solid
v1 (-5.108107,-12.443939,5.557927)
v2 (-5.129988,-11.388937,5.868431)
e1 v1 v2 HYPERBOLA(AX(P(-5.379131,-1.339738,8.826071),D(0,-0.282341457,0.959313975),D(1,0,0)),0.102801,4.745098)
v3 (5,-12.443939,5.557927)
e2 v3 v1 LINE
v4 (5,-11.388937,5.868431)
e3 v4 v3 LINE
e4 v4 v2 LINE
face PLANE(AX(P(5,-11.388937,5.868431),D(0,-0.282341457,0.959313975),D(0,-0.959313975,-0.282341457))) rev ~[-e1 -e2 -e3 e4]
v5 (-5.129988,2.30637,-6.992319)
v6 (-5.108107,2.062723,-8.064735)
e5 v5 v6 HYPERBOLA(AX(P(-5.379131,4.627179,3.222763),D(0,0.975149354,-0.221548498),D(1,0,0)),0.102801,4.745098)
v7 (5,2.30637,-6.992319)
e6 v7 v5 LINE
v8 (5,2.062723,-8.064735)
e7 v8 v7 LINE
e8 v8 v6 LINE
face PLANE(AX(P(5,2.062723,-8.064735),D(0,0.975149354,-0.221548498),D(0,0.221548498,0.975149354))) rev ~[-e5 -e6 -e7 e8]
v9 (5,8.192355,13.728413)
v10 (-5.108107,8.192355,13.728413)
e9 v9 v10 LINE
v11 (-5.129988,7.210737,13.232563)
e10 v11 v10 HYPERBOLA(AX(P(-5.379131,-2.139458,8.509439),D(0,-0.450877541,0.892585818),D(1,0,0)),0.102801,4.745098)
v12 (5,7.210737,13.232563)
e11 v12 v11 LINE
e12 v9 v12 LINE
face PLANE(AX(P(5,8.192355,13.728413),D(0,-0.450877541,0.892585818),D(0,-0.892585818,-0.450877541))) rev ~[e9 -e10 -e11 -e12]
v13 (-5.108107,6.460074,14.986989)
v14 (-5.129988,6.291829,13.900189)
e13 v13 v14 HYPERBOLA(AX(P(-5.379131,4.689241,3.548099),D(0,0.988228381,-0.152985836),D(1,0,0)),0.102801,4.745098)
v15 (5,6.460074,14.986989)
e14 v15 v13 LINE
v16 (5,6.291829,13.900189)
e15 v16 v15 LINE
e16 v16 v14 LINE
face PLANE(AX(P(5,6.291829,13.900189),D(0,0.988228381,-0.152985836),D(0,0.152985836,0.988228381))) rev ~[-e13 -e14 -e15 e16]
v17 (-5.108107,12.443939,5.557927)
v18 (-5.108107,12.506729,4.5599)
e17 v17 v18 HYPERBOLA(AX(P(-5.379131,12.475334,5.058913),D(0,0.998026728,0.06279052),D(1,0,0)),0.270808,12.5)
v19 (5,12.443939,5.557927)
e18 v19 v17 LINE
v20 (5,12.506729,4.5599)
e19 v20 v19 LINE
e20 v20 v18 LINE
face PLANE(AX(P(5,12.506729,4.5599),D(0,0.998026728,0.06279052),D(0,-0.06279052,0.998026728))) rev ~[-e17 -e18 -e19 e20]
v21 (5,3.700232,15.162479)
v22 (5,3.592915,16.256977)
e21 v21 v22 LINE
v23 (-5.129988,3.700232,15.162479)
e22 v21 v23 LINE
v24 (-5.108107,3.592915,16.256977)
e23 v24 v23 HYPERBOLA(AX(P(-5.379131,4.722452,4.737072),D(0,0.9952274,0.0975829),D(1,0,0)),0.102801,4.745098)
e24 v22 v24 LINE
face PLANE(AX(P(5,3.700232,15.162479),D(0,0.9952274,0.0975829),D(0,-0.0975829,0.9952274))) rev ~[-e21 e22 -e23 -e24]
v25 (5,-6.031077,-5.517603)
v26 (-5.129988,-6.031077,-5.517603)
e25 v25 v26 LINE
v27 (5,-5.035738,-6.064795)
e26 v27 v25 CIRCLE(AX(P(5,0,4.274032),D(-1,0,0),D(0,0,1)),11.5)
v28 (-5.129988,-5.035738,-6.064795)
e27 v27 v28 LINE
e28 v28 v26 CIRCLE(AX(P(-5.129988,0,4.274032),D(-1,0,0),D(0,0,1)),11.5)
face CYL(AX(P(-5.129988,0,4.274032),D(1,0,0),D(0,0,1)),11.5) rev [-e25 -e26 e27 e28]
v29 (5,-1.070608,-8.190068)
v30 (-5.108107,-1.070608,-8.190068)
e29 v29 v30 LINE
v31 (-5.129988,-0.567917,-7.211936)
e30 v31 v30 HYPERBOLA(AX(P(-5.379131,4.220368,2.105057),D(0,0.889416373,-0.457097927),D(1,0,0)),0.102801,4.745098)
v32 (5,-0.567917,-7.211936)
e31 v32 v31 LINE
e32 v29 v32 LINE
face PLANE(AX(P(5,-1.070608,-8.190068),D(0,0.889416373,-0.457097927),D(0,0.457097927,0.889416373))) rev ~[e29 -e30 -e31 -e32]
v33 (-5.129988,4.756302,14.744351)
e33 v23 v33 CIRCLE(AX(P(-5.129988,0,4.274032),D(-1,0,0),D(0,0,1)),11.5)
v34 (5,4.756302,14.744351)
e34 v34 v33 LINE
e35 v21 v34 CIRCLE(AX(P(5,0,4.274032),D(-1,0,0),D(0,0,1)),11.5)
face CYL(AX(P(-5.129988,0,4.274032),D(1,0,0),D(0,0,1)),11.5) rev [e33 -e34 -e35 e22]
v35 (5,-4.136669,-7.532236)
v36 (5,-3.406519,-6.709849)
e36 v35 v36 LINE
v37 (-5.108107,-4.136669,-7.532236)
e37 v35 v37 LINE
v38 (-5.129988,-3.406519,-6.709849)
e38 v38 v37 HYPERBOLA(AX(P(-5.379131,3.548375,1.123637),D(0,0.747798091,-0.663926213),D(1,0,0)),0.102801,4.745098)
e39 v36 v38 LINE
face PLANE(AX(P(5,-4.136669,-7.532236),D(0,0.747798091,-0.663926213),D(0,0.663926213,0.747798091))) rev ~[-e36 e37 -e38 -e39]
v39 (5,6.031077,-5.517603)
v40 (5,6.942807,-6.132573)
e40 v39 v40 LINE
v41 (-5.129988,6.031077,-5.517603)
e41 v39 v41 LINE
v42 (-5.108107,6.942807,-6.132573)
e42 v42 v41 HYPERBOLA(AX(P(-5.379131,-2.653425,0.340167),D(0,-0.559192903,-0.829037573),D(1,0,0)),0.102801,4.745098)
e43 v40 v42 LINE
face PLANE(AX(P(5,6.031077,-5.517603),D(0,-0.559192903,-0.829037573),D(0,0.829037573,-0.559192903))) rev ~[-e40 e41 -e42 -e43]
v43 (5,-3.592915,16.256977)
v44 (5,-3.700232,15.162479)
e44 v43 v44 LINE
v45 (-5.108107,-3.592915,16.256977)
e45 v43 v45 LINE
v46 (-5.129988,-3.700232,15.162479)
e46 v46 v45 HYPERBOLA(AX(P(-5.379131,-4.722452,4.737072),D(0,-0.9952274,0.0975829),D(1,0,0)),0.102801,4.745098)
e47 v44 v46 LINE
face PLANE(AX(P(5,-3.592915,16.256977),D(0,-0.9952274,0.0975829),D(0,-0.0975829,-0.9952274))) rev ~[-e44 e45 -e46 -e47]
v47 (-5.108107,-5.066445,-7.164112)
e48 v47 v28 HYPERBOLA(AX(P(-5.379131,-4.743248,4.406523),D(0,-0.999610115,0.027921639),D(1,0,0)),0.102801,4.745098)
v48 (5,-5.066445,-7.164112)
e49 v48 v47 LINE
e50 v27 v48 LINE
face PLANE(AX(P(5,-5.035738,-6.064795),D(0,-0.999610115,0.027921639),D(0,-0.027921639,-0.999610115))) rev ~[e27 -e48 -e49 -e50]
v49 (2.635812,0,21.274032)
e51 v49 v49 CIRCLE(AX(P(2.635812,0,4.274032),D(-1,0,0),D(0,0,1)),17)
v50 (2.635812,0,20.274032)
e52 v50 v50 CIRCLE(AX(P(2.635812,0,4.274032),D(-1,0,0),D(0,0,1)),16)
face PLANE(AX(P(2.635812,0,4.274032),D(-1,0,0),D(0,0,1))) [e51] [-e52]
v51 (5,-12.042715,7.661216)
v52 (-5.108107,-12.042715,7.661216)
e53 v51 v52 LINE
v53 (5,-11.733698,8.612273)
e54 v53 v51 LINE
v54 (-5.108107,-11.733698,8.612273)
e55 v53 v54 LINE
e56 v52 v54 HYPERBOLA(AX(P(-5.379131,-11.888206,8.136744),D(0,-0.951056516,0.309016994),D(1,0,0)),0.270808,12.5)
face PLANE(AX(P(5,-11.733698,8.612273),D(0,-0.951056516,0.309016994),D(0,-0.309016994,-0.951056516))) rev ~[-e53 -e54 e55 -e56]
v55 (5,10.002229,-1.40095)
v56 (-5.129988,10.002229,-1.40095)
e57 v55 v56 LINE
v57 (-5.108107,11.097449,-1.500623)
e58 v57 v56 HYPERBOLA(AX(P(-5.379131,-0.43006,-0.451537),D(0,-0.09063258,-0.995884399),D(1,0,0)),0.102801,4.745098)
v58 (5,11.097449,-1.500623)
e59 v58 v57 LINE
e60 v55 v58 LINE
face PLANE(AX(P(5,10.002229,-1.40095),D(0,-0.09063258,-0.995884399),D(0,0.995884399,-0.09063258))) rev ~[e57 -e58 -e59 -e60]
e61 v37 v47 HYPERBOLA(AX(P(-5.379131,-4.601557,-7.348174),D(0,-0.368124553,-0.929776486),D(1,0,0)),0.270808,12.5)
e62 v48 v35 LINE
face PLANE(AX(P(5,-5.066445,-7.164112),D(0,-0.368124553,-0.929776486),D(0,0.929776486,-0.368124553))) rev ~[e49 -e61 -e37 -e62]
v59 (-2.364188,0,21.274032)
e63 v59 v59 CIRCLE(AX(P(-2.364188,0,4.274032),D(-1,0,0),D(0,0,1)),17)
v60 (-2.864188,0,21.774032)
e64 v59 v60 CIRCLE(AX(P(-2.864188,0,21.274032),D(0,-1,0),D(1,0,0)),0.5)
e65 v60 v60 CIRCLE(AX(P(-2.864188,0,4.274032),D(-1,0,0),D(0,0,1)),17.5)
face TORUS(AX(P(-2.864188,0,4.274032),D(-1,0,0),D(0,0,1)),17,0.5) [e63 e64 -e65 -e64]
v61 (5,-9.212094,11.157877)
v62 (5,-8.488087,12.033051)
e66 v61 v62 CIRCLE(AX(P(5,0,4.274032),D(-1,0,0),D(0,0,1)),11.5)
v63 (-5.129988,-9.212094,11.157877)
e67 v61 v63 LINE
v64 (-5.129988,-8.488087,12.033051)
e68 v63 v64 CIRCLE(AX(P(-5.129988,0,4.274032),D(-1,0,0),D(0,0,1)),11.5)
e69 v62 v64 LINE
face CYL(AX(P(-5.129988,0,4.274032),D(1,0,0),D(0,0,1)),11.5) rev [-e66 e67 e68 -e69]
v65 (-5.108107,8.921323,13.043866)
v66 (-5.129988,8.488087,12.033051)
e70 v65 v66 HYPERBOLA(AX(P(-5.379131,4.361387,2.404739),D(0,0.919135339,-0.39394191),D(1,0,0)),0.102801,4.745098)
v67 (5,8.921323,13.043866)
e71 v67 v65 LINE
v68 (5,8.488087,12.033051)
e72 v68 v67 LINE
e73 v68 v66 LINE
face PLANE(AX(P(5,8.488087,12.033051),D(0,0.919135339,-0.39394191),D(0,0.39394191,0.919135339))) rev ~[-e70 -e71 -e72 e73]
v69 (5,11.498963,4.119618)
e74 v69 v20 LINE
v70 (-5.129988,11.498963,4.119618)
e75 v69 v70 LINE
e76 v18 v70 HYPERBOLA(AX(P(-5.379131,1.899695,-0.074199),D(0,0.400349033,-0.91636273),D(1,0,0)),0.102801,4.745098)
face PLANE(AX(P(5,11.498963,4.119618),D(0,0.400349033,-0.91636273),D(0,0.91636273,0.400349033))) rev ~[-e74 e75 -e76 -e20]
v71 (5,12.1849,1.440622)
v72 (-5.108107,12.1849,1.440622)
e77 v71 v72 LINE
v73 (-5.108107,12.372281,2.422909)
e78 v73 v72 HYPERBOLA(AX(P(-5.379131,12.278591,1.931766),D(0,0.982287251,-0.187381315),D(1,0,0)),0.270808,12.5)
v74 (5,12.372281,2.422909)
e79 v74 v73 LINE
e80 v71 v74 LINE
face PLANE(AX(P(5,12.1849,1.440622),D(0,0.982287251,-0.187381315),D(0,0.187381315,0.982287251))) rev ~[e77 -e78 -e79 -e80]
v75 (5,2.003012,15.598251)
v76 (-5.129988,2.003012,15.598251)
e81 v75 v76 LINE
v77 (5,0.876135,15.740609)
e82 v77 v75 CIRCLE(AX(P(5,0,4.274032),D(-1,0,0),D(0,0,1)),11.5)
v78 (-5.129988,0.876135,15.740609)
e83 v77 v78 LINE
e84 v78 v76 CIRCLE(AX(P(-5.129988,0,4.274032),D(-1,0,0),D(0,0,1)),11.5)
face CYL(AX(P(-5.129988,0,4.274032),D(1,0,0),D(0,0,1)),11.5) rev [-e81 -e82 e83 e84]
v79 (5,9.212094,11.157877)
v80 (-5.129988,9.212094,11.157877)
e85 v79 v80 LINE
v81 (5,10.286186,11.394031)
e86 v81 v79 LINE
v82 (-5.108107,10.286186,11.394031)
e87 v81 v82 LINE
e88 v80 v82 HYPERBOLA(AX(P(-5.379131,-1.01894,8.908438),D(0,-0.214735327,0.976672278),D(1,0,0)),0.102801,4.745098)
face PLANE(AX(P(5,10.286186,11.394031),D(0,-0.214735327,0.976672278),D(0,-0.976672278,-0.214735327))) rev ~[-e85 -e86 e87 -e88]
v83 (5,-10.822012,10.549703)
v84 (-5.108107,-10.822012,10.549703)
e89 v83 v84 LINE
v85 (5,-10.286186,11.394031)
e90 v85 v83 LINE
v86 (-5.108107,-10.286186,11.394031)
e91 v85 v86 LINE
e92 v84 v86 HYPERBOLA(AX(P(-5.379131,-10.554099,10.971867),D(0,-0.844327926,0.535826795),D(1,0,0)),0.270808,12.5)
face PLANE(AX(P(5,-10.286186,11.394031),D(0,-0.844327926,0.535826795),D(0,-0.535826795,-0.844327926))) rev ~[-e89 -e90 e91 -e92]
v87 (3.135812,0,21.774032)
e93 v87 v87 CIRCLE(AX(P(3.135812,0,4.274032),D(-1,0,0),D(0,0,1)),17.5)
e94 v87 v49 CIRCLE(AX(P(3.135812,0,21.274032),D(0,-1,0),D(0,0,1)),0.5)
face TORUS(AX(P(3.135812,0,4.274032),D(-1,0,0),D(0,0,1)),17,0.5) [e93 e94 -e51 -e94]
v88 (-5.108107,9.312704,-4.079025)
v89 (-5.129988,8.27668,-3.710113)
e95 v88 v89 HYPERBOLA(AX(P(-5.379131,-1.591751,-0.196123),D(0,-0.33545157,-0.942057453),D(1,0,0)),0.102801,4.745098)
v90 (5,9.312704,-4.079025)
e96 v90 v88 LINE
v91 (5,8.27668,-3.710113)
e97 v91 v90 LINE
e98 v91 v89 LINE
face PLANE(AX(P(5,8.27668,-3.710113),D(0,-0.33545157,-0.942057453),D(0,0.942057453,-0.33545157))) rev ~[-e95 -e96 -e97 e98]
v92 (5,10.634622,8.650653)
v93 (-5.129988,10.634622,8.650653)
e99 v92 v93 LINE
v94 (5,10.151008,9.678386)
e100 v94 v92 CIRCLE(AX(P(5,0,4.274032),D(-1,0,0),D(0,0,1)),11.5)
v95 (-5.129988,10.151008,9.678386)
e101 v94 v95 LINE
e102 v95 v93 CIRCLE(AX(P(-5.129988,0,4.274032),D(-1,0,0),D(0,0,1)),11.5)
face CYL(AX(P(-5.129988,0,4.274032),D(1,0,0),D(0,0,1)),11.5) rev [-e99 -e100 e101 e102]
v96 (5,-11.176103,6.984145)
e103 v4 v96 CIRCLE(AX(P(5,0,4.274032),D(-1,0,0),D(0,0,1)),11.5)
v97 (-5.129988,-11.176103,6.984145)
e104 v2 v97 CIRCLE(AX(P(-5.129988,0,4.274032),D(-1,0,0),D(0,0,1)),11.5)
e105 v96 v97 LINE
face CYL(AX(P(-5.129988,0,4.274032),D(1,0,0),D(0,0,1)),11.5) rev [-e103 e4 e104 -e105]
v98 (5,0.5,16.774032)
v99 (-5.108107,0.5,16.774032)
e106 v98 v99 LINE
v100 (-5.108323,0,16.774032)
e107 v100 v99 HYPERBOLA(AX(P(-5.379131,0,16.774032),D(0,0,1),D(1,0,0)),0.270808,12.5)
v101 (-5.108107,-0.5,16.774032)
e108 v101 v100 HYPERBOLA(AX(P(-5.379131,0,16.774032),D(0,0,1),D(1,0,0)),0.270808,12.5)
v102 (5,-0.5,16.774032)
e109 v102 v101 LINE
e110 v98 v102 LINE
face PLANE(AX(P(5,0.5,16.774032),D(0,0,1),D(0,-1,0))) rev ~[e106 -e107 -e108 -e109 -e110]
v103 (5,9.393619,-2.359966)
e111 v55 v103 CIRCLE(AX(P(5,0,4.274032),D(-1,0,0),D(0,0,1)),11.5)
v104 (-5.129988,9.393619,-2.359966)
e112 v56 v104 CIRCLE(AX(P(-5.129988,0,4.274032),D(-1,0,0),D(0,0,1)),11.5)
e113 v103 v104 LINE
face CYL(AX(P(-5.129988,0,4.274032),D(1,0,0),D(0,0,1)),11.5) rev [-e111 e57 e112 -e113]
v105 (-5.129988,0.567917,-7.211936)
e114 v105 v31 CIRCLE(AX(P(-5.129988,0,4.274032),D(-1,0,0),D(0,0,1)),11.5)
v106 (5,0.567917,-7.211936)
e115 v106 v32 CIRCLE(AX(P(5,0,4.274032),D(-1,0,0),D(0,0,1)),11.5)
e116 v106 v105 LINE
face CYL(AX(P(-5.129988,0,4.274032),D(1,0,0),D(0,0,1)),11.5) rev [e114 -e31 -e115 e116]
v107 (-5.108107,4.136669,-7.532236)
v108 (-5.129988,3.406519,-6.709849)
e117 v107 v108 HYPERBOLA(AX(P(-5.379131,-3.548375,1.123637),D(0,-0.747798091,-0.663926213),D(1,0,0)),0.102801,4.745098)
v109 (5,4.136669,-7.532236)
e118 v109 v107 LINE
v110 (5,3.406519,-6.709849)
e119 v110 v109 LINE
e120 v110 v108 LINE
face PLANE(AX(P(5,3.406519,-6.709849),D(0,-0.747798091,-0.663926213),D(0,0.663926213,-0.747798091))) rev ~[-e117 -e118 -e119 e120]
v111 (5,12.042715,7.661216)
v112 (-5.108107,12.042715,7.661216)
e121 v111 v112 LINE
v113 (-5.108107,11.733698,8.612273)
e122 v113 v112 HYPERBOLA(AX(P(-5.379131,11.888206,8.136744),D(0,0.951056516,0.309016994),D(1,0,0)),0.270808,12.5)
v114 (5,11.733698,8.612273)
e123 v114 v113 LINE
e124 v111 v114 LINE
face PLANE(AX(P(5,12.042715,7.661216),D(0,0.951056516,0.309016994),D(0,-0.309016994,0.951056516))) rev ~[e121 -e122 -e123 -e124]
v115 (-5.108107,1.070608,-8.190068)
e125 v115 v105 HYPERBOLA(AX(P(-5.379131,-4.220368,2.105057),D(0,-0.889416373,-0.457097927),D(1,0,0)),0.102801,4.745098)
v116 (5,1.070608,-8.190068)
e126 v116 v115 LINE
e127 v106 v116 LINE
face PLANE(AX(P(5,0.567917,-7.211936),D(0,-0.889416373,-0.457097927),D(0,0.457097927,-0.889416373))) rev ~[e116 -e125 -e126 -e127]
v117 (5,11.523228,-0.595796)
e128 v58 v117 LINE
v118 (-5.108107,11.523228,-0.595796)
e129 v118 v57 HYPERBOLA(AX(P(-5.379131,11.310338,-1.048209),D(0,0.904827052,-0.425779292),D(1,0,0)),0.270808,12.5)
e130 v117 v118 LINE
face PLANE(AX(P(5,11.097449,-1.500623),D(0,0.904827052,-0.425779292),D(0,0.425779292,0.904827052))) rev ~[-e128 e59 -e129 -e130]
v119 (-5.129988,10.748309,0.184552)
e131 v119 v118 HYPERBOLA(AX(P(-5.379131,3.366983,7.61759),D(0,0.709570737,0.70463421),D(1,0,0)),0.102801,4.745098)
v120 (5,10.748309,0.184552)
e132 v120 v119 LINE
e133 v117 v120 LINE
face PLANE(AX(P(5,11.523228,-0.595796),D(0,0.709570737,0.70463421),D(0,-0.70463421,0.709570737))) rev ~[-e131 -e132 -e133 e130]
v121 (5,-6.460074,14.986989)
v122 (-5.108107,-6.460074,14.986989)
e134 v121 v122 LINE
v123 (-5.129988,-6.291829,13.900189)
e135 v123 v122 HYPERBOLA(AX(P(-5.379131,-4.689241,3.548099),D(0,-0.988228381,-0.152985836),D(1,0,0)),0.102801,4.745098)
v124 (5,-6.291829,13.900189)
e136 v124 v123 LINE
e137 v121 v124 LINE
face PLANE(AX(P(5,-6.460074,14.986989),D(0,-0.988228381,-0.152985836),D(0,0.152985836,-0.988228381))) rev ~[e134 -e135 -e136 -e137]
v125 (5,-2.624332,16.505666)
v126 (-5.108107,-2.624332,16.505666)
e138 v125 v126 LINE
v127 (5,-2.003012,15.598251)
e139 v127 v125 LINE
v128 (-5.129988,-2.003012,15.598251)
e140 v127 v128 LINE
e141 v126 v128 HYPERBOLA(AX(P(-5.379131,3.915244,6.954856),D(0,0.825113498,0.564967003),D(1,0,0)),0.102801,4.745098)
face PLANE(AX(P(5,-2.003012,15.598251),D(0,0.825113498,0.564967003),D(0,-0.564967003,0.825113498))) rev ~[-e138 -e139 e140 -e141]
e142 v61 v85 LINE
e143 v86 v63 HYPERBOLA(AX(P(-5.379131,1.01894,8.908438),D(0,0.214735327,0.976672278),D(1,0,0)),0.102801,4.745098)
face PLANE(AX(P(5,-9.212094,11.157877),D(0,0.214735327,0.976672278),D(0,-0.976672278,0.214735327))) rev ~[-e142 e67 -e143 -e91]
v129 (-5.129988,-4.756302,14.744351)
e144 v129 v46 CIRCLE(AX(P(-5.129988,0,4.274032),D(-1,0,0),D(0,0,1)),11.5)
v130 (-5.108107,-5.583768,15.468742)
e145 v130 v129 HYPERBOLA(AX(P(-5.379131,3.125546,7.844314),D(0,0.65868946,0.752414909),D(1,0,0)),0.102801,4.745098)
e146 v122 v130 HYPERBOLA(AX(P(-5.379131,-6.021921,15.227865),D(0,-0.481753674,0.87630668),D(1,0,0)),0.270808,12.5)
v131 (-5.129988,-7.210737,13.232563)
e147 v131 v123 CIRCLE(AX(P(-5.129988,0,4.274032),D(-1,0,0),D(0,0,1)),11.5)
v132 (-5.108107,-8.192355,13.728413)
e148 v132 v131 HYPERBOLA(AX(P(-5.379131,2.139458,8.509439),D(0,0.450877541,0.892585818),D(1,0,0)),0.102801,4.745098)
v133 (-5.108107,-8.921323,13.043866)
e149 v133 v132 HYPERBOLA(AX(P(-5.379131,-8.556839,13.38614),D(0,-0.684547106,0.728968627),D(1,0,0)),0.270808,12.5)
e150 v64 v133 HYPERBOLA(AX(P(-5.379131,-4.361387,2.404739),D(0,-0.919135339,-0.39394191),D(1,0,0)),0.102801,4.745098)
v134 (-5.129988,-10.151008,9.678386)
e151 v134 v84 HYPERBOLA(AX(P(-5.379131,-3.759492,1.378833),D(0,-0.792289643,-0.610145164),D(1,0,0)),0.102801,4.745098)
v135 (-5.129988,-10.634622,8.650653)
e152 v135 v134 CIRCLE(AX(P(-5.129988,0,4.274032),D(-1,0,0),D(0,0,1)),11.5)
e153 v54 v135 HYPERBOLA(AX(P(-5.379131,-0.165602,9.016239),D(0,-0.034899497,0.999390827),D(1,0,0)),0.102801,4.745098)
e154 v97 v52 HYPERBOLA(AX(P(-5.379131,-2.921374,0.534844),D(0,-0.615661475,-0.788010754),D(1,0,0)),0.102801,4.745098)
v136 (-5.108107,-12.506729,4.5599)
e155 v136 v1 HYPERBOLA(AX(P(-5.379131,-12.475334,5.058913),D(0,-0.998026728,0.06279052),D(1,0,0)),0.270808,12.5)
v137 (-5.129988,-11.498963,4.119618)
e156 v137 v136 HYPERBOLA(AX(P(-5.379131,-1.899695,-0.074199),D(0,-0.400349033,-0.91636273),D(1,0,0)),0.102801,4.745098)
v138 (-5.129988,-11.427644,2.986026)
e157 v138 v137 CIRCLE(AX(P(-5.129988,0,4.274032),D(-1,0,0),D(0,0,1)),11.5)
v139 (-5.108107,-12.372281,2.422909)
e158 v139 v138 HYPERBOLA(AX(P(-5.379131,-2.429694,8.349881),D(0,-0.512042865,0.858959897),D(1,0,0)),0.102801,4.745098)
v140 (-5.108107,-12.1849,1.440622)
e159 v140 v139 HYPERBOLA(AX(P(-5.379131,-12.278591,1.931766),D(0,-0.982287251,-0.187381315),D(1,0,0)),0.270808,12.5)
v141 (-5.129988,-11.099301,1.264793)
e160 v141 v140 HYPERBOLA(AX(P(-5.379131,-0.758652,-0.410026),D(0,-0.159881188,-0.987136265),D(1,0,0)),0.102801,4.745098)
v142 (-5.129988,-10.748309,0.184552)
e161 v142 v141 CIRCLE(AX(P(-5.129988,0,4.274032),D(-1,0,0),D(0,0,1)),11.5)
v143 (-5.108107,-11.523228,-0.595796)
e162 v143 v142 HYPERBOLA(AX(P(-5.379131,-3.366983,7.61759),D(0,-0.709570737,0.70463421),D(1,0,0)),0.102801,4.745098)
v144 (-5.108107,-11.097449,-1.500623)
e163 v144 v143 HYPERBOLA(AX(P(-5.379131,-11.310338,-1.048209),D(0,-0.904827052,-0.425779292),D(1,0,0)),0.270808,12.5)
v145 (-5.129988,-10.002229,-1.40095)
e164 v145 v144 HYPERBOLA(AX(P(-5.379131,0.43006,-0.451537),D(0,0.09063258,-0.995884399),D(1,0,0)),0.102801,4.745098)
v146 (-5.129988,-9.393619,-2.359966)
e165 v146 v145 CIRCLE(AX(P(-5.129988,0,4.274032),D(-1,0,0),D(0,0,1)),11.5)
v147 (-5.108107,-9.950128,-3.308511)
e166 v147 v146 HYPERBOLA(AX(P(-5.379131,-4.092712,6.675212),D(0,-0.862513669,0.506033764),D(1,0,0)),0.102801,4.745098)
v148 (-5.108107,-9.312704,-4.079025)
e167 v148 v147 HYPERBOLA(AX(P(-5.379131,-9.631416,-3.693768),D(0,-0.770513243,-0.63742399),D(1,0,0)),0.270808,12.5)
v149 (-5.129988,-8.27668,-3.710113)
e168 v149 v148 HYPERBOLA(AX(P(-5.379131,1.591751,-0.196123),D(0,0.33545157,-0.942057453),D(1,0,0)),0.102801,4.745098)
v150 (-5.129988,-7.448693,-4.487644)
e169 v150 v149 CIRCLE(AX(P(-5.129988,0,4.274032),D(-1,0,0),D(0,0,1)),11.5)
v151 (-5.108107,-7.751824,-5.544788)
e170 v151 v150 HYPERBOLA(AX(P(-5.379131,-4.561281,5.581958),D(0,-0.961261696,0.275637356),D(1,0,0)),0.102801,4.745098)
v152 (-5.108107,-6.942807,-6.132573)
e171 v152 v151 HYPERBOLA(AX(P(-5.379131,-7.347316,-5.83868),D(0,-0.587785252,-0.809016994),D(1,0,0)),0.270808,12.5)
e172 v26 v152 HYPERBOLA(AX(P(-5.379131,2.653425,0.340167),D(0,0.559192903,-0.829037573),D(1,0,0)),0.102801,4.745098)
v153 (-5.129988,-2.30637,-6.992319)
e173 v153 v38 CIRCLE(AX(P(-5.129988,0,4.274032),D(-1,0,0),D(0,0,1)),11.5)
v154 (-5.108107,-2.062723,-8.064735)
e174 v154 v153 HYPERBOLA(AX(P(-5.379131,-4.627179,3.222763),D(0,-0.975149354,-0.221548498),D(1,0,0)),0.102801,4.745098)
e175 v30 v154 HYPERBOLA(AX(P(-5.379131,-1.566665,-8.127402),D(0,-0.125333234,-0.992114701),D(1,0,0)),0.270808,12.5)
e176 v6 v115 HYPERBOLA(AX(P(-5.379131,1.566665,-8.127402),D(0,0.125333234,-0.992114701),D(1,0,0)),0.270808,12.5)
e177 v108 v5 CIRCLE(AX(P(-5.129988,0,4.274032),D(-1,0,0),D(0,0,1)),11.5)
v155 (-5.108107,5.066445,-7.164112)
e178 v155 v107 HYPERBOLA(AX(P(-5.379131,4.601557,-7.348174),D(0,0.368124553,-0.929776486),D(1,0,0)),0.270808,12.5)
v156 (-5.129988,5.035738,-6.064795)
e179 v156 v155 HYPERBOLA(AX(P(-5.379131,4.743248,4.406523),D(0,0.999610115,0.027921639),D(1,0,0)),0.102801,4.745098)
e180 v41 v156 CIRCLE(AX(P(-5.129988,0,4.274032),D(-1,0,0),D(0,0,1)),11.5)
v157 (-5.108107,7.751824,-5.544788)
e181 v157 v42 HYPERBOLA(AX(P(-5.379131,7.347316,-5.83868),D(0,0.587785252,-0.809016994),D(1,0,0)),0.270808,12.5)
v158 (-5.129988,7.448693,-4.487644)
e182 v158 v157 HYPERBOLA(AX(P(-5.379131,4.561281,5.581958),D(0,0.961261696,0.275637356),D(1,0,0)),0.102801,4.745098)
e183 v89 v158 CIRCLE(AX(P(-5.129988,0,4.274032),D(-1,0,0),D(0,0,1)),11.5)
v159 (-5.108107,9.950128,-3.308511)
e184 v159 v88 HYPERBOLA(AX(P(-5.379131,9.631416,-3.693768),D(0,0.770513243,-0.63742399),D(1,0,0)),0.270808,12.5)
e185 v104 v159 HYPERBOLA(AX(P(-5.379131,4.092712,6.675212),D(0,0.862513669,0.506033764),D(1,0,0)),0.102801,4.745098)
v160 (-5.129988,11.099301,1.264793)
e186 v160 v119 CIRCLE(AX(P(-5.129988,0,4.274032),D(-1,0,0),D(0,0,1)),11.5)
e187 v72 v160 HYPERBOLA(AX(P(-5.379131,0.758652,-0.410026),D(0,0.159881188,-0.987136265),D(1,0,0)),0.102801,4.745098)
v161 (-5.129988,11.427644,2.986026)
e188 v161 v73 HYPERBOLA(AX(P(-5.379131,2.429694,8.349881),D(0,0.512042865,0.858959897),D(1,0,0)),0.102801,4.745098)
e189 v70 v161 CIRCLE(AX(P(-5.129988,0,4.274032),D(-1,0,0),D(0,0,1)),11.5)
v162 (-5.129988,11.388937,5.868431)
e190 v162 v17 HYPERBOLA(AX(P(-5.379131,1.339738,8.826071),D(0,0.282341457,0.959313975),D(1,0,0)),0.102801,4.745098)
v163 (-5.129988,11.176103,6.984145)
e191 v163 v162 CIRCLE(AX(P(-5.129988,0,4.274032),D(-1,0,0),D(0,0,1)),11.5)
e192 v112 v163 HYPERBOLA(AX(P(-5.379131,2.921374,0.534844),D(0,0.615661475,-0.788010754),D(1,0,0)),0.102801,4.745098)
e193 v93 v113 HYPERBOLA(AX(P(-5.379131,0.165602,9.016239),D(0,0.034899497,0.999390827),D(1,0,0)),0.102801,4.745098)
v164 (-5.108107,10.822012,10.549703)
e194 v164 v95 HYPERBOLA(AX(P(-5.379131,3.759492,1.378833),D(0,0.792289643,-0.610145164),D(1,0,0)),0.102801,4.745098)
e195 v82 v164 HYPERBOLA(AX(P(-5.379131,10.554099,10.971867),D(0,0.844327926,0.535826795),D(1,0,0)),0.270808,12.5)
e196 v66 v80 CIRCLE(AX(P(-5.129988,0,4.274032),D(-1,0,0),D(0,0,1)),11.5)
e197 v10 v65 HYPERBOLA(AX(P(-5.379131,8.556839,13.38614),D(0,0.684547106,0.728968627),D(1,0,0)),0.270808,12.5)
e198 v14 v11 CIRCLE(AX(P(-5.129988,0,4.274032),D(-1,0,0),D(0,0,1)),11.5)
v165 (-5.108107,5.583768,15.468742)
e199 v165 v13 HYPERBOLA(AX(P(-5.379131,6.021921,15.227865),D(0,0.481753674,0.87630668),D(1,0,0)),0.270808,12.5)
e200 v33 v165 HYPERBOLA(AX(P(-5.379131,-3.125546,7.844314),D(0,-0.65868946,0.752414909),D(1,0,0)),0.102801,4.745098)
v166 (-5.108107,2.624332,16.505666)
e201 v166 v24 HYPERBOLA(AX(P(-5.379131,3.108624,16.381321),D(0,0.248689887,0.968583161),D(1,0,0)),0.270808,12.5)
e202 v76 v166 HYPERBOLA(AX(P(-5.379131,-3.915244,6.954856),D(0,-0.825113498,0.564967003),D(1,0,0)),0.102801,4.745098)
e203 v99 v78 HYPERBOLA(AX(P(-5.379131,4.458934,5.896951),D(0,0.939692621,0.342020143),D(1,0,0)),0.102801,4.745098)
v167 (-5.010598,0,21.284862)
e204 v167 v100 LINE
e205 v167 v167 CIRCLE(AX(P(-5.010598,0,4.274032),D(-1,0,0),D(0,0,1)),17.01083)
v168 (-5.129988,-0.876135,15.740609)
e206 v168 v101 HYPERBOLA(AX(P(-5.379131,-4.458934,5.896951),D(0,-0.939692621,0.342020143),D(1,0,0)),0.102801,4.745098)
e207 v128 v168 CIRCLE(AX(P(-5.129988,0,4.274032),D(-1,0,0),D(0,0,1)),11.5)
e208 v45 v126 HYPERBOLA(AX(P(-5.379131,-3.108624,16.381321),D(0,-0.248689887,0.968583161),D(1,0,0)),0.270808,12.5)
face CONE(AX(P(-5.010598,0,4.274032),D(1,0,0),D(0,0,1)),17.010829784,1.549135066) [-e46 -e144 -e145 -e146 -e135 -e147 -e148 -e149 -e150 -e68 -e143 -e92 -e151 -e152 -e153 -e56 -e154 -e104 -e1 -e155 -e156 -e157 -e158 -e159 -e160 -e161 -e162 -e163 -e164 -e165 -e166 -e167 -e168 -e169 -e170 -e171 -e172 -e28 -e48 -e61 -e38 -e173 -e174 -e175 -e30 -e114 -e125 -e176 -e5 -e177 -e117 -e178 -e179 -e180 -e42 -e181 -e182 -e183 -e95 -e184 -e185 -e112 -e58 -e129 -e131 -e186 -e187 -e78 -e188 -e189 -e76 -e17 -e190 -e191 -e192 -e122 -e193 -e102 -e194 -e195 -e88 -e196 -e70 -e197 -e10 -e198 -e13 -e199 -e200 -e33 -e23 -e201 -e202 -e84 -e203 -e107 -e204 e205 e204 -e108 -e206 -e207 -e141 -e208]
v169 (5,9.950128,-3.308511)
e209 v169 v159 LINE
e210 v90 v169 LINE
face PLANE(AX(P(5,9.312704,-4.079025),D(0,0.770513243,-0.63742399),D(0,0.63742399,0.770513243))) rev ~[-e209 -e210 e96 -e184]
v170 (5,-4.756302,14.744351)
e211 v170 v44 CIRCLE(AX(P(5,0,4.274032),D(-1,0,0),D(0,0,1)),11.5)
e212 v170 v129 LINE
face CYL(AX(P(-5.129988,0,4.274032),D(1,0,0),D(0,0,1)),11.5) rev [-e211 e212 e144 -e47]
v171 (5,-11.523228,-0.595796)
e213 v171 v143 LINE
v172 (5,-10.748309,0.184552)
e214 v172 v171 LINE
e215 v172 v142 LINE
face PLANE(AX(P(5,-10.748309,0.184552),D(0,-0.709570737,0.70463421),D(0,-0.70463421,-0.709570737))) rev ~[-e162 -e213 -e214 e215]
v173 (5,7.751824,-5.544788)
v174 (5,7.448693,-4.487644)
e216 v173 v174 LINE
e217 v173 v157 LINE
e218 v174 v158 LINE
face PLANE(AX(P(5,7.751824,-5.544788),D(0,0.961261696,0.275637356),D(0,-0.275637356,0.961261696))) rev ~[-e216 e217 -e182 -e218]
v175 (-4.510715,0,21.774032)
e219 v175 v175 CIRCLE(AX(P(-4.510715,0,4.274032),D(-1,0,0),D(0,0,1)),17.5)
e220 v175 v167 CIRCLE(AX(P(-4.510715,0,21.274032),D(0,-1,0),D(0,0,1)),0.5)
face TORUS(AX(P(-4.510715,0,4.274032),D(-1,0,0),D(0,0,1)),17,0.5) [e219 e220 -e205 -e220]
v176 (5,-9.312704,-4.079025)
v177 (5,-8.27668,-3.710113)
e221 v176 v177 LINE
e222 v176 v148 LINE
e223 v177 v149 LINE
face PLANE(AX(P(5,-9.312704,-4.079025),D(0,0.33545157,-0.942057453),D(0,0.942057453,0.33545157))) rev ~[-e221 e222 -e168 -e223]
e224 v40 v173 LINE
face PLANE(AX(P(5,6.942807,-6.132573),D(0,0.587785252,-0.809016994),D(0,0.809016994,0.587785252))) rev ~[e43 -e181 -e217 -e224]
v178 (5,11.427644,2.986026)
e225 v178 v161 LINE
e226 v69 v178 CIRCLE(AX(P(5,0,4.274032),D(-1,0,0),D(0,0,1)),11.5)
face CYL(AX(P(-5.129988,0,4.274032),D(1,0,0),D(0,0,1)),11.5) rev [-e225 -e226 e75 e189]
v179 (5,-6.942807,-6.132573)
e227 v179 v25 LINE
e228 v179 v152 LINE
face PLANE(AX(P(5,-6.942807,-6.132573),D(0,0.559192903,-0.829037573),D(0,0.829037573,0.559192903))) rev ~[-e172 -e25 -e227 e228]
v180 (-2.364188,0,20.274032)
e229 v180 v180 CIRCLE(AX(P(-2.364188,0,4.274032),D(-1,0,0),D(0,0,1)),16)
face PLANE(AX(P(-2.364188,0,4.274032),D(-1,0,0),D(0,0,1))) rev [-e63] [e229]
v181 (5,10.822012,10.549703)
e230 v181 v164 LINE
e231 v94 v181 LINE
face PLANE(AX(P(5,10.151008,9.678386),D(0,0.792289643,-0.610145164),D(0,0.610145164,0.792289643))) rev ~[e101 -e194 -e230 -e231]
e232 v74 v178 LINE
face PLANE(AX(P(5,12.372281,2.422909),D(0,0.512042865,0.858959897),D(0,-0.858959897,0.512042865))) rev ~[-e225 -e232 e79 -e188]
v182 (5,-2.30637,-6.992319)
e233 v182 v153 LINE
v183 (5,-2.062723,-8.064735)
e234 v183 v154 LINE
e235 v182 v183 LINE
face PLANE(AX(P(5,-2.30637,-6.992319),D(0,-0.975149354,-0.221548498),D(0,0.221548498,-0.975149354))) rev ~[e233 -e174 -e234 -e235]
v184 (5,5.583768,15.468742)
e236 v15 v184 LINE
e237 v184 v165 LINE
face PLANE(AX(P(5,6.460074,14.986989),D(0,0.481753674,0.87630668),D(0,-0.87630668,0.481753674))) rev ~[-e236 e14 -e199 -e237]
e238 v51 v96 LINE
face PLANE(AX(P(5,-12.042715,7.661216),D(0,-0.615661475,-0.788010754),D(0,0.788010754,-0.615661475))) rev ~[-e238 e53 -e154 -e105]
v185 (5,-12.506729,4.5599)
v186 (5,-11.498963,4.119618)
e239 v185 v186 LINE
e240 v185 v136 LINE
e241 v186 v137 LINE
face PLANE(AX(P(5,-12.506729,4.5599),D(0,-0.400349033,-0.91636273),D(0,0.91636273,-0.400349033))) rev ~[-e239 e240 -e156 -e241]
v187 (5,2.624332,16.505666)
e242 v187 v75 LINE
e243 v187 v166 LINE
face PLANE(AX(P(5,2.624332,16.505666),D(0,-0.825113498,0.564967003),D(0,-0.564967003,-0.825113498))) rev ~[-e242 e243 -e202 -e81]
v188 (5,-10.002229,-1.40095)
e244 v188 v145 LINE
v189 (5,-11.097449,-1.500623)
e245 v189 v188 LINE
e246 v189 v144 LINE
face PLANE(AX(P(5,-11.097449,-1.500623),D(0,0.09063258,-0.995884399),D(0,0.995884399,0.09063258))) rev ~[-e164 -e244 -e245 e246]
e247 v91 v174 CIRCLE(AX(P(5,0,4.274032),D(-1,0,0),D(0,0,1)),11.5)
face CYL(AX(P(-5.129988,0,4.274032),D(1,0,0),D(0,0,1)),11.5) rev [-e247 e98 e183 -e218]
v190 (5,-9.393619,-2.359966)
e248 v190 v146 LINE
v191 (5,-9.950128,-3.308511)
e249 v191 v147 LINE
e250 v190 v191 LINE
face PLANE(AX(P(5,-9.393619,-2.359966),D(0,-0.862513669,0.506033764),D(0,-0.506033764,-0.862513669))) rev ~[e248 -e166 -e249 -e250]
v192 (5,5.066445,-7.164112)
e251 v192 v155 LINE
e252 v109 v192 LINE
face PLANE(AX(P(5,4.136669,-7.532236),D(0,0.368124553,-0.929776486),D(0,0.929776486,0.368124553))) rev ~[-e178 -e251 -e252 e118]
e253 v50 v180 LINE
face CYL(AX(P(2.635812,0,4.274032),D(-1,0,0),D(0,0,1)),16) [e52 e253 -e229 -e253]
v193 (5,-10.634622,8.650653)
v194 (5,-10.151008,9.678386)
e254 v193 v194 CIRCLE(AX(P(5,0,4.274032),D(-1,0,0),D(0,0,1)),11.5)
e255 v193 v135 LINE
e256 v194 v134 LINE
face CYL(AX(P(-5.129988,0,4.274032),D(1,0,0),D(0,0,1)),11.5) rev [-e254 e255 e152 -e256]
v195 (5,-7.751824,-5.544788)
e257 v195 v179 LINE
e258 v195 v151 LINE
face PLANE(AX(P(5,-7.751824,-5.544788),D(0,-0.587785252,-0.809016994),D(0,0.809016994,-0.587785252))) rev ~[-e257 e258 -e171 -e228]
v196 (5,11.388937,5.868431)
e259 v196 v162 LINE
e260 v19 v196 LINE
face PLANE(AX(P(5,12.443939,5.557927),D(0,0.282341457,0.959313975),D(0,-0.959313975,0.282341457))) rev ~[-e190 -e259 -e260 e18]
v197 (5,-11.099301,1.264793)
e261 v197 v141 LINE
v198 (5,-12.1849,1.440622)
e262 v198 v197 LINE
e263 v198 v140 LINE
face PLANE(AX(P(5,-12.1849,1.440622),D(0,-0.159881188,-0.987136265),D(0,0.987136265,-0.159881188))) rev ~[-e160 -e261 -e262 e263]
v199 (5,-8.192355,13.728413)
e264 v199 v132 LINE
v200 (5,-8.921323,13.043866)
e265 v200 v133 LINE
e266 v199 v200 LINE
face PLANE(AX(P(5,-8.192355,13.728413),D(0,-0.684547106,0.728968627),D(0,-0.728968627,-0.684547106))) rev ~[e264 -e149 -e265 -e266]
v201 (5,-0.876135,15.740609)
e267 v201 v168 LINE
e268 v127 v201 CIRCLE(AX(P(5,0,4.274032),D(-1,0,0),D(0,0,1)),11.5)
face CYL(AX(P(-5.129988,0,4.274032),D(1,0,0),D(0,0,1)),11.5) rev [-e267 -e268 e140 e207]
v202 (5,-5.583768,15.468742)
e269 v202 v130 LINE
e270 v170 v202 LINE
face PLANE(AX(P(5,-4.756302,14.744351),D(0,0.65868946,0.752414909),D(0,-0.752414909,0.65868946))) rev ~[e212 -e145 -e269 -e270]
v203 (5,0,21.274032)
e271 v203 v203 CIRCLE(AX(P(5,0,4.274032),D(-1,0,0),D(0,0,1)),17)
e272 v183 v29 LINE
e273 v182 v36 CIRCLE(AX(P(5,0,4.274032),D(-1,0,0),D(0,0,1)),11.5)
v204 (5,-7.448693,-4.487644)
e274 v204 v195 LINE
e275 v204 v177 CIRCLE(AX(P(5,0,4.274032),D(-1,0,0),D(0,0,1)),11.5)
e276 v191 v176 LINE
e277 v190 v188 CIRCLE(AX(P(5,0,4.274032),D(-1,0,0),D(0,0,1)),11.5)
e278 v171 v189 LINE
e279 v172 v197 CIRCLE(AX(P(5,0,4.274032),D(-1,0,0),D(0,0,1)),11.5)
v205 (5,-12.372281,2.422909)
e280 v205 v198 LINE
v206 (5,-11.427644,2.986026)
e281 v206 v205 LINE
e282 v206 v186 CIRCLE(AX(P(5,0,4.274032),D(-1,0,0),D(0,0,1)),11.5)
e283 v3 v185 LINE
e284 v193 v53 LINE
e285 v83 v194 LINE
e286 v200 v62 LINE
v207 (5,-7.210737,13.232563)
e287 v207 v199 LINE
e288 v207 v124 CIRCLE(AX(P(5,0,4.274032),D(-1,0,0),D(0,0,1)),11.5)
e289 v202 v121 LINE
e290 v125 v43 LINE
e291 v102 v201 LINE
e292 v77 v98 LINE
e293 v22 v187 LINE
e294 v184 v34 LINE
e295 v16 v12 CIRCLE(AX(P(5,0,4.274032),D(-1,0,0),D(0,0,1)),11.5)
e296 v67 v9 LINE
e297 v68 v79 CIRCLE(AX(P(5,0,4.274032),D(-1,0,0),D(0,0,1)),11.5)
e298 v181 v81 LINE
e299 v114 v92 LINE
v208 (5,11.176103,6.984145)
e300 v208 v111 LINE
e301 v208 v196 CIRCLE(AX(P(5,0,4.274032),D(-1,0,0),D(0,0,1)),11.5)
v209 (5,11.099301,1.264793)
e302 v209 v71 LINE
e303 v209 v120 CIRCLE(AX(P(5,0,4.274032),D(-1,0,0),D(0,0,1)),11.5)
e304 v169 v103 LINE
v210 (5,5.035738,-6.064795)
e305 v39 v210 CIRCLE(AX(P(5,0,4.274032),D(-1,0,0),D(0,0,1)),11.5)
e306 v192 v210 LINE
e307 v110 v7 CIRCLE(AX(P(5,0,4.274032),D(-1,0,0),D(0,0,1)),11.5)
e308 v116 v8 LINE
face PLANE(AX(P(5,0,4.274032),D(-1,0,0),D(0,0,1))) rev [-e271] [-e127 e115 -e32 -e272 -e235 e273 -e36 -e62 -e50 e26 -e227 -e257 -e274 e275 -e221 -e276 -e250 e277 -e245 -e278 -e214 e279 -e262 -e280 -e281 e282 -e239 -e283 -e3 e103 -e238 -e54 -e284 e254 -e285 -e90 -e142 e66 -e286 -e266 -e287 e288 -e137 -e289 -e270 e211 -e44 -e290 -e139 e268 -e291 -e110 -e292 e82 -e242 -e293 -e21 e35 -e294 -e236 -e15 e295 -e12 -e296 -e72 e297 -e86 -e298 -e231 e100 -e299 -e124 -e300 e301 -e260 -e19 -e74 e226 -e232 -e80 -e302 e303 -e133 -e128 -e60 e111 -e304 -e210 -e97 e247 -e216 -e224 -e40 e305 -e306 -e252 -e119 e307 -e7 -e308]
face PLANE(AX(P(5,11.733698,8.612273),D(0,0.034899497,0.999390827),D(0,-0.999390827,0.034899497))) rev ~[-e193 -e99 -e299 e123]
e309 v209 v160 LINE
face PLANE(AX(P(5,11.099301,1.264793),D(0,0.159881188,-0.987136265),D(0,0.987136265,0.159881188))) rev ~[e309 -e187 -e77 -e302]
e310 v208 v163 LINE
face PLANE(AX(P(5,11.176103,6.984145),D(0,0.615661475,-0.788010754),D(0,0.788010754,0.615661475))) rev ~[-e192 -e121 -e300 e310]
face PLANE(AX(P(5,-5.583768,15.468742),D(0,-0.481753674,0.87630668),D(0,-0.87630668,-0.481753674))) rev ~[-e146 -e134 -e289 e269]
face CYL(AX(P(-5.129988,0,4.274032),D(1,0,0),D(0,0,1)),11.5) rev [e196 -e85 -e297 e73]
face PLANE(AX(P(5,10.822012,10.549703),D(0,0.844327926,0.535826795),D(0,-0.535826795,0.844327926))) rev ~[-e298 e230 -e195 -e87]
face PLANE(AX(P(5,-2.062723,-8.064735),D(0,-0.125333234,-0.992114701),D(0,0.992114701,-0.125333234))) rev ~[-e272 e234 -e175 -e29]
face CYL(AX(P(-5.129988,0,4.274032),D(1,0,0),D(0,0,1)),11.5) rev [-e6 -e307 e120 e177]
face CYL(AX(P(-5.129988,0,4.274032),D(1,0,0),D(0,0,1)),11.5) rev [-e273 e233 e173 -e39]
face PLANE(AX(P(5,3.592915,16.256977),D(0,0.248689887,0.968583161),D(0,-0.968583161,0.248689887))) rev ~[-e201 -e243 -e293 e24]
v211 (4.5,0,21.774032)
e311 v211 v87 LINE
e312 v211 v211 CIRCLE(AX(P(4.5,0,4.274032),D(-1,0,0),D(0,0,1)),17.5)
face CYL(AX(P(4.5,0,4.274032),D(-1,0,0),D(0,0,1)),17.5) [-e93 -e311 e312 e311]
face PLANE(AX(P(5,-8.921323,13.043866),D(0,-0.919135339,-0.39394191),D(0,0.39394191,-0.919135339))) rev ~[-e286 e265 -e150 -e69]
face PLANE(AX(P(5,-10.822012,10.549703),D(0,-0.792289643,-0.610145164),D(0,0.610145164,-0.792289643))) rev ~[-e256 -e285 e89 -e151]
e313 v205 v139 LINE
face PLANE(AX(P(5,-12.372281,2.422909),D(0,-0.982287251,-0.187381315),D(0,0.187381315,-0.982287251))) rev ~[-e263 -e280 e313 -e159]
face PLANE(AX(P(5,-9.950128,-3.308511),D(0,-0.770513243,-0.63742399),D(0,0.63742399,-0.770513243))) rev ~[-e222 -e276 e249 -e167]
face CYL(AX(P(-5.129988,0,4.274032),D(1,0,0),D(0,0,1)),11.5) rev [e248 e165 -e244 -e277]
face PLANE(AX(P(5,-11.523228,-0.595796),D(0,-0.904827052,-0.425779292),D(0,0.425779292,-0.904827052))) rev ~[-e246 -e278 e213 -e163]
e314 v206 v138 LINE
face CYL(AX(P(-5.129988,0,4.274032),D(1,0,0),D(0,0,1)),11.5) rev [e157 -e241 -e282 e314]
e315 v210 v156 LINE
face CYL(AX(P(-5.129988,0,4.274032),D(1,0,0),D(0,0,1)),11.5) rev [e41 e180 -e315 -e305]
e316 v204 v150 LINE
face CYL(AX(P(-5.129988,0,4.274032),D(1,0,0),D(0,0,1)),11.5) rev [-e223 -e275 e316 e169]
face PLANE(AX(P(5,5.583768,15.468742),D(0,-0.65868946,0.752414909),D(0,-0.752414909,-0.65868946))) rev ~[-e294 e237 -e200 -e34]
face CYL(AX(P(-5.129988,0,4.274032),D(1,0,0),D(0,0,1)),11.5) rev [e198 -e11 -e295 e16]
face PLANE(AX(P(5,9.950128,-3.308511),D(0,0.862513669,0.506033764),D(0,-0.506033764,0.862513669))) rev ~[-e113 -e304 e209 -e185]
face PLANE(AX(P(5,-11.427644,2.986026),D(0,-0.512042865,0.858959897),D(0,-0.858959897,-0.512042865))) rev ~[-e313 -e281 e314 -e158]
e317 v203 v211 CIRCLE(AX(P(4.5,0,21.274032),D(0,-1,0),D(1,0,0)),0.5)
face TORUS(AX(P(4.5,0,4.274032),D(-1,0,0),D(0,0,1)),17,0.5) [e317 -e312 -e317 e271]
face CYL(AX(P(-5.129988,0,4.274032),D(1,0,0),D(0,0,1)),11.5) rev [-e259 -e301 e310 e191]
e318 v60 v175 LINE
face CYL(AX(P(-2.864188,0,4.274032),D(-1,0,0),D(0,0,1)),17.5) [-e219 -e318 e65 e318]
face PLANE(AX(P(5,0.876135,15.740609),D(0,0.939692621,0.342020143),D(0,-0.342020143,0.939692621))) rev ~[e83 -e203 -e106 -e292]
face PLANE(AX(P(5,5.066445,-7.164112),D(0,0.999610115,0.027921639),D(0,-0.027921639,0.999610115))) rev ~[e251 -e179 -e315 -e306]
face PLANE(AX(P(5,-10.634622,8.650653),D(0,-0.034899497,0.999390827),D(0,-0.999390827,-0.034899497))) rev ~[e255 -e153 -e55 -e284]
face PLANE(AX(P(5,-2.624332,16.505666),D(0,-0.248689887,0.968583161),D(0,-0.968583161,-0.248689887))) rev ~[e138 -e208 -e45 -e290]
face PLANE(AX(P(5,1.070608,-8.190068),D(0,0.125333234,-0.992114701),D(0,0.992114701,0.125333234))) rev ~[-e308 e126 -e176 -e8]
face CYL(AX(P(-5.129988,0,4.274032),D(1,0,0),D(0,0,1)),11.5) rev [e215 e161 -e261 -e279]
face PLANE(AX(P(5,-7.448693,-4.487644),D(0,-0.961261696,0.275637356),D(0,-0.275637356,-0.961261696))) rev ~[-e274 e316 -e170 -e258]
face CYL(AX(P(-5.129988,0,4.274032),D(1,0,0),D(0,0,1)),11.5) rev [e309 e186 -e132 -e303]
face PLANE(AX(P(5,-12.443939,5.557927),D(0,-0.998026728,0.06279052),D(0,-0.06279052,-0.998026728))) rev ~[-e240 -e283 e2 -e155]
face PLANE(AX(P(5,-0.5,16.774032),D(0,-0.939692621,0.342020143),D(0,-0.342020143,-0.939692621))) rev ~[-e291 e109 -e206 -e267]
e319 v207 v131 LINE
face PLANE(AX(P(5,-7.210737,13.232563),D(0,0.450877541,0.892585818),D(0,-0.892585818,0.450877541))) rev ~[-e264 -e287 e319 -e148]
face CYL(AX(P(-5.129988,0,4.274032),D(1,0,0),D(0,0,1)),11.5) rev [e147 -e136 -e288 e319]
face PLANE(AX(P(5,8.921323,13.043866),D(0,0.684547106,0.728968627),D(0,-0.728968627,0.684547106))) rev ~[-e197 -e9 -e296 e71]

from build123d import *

# Parameters (mm, degrees)
F3_DEPTH = 25
F4_COUNT = 25


with BuildPart() as f1:
    # F0 (on Front) → F1 (revolve)
    with BuildSketch(Plane.XZ):
        with BuildLine():
            Line((5, 15.7740319341), (5, 21.2740319341))
            ThreePointArc((5, 21.2740319341), (4.8535533906, 21.6275853247), (4.5, 21.7740319341))
            Line((4.5, 21.7740319341), (3.1358124877, 21.7740319341))
            ThreePointArc((3.1358124877, 21.7740319341), (2.7822590971, 21.6275853247), (2.6358124877, 21.2740319341))
            Line((2.6358124877, 21.2740319341), (2.6358124877, 20.2740319341))
            Line((2.6358124877, 20.2740319341), (-2.3641875123, 20.2740319341))
            Line((-2.3641875123, 20.2740319341), (-2.3641875123, 21.2740319341))
            ThreePointArc((-2.3641875123, 21.2740319341), (-2.5106341217, 21.6275853247), (-2.8641875123, 21.7740319341))
            Line((-2.8641875123, 21.7740319341), (-4.5107149994, 21.7740319341))
            ThreePointArc((-4.5107149994, 21.7740319341), (-4.8604185225, 21.6313937199), (-5.0105977014, 21.2848617178))
            Line((-5.0105977014, 21.2848617178), (-5.1299878986, 15.7740319341))
            Line((-5.1299878986, 15.7740319341), (0, 15.7740319341))
            Line((0, 15.7740319341), (5, 15.7740319341))
        make_face()
    revolve(axis=Axis((-3.1572775915, 0, 4.2740319341), (-1, 0, 0)))

    # F2 (on face) → F3 (cut)
    with BuildSketch(Plane.YZ.offset(5)):
        with BuildLine():
            Line((0.5, 16.7740319341), (0, 16.7740319341))
            Line((0, 16.7740319341), (-0.5, 16.7740319341))
            Line((-0.5, 16.7740319341), (-0.8761352278, 15.740608889))
            ThreePointArc((-0.8761352278, 15.740608889), (0, 15.7740319341), (0.8761352278, 15.740608889))
            Line((0.8761352278, 15.740608889), (0.5, 16.7740319341))
        make_face()
    f3 = extrude(amount=-F3_DEPTH, mode=Mode.SUBTRACT)

    # F4: F3 ×25 about axis
    f4_axis = Axis((-5.1299878986, 0, 4.2740319341), (1, 0, 0))
    for i in range(1, F4_COUNT):
        add(f3.rotate(f4_axis, i * 360 / F4_COUNT), mode=Mode.SUBTRACT)


solid = f1.part
